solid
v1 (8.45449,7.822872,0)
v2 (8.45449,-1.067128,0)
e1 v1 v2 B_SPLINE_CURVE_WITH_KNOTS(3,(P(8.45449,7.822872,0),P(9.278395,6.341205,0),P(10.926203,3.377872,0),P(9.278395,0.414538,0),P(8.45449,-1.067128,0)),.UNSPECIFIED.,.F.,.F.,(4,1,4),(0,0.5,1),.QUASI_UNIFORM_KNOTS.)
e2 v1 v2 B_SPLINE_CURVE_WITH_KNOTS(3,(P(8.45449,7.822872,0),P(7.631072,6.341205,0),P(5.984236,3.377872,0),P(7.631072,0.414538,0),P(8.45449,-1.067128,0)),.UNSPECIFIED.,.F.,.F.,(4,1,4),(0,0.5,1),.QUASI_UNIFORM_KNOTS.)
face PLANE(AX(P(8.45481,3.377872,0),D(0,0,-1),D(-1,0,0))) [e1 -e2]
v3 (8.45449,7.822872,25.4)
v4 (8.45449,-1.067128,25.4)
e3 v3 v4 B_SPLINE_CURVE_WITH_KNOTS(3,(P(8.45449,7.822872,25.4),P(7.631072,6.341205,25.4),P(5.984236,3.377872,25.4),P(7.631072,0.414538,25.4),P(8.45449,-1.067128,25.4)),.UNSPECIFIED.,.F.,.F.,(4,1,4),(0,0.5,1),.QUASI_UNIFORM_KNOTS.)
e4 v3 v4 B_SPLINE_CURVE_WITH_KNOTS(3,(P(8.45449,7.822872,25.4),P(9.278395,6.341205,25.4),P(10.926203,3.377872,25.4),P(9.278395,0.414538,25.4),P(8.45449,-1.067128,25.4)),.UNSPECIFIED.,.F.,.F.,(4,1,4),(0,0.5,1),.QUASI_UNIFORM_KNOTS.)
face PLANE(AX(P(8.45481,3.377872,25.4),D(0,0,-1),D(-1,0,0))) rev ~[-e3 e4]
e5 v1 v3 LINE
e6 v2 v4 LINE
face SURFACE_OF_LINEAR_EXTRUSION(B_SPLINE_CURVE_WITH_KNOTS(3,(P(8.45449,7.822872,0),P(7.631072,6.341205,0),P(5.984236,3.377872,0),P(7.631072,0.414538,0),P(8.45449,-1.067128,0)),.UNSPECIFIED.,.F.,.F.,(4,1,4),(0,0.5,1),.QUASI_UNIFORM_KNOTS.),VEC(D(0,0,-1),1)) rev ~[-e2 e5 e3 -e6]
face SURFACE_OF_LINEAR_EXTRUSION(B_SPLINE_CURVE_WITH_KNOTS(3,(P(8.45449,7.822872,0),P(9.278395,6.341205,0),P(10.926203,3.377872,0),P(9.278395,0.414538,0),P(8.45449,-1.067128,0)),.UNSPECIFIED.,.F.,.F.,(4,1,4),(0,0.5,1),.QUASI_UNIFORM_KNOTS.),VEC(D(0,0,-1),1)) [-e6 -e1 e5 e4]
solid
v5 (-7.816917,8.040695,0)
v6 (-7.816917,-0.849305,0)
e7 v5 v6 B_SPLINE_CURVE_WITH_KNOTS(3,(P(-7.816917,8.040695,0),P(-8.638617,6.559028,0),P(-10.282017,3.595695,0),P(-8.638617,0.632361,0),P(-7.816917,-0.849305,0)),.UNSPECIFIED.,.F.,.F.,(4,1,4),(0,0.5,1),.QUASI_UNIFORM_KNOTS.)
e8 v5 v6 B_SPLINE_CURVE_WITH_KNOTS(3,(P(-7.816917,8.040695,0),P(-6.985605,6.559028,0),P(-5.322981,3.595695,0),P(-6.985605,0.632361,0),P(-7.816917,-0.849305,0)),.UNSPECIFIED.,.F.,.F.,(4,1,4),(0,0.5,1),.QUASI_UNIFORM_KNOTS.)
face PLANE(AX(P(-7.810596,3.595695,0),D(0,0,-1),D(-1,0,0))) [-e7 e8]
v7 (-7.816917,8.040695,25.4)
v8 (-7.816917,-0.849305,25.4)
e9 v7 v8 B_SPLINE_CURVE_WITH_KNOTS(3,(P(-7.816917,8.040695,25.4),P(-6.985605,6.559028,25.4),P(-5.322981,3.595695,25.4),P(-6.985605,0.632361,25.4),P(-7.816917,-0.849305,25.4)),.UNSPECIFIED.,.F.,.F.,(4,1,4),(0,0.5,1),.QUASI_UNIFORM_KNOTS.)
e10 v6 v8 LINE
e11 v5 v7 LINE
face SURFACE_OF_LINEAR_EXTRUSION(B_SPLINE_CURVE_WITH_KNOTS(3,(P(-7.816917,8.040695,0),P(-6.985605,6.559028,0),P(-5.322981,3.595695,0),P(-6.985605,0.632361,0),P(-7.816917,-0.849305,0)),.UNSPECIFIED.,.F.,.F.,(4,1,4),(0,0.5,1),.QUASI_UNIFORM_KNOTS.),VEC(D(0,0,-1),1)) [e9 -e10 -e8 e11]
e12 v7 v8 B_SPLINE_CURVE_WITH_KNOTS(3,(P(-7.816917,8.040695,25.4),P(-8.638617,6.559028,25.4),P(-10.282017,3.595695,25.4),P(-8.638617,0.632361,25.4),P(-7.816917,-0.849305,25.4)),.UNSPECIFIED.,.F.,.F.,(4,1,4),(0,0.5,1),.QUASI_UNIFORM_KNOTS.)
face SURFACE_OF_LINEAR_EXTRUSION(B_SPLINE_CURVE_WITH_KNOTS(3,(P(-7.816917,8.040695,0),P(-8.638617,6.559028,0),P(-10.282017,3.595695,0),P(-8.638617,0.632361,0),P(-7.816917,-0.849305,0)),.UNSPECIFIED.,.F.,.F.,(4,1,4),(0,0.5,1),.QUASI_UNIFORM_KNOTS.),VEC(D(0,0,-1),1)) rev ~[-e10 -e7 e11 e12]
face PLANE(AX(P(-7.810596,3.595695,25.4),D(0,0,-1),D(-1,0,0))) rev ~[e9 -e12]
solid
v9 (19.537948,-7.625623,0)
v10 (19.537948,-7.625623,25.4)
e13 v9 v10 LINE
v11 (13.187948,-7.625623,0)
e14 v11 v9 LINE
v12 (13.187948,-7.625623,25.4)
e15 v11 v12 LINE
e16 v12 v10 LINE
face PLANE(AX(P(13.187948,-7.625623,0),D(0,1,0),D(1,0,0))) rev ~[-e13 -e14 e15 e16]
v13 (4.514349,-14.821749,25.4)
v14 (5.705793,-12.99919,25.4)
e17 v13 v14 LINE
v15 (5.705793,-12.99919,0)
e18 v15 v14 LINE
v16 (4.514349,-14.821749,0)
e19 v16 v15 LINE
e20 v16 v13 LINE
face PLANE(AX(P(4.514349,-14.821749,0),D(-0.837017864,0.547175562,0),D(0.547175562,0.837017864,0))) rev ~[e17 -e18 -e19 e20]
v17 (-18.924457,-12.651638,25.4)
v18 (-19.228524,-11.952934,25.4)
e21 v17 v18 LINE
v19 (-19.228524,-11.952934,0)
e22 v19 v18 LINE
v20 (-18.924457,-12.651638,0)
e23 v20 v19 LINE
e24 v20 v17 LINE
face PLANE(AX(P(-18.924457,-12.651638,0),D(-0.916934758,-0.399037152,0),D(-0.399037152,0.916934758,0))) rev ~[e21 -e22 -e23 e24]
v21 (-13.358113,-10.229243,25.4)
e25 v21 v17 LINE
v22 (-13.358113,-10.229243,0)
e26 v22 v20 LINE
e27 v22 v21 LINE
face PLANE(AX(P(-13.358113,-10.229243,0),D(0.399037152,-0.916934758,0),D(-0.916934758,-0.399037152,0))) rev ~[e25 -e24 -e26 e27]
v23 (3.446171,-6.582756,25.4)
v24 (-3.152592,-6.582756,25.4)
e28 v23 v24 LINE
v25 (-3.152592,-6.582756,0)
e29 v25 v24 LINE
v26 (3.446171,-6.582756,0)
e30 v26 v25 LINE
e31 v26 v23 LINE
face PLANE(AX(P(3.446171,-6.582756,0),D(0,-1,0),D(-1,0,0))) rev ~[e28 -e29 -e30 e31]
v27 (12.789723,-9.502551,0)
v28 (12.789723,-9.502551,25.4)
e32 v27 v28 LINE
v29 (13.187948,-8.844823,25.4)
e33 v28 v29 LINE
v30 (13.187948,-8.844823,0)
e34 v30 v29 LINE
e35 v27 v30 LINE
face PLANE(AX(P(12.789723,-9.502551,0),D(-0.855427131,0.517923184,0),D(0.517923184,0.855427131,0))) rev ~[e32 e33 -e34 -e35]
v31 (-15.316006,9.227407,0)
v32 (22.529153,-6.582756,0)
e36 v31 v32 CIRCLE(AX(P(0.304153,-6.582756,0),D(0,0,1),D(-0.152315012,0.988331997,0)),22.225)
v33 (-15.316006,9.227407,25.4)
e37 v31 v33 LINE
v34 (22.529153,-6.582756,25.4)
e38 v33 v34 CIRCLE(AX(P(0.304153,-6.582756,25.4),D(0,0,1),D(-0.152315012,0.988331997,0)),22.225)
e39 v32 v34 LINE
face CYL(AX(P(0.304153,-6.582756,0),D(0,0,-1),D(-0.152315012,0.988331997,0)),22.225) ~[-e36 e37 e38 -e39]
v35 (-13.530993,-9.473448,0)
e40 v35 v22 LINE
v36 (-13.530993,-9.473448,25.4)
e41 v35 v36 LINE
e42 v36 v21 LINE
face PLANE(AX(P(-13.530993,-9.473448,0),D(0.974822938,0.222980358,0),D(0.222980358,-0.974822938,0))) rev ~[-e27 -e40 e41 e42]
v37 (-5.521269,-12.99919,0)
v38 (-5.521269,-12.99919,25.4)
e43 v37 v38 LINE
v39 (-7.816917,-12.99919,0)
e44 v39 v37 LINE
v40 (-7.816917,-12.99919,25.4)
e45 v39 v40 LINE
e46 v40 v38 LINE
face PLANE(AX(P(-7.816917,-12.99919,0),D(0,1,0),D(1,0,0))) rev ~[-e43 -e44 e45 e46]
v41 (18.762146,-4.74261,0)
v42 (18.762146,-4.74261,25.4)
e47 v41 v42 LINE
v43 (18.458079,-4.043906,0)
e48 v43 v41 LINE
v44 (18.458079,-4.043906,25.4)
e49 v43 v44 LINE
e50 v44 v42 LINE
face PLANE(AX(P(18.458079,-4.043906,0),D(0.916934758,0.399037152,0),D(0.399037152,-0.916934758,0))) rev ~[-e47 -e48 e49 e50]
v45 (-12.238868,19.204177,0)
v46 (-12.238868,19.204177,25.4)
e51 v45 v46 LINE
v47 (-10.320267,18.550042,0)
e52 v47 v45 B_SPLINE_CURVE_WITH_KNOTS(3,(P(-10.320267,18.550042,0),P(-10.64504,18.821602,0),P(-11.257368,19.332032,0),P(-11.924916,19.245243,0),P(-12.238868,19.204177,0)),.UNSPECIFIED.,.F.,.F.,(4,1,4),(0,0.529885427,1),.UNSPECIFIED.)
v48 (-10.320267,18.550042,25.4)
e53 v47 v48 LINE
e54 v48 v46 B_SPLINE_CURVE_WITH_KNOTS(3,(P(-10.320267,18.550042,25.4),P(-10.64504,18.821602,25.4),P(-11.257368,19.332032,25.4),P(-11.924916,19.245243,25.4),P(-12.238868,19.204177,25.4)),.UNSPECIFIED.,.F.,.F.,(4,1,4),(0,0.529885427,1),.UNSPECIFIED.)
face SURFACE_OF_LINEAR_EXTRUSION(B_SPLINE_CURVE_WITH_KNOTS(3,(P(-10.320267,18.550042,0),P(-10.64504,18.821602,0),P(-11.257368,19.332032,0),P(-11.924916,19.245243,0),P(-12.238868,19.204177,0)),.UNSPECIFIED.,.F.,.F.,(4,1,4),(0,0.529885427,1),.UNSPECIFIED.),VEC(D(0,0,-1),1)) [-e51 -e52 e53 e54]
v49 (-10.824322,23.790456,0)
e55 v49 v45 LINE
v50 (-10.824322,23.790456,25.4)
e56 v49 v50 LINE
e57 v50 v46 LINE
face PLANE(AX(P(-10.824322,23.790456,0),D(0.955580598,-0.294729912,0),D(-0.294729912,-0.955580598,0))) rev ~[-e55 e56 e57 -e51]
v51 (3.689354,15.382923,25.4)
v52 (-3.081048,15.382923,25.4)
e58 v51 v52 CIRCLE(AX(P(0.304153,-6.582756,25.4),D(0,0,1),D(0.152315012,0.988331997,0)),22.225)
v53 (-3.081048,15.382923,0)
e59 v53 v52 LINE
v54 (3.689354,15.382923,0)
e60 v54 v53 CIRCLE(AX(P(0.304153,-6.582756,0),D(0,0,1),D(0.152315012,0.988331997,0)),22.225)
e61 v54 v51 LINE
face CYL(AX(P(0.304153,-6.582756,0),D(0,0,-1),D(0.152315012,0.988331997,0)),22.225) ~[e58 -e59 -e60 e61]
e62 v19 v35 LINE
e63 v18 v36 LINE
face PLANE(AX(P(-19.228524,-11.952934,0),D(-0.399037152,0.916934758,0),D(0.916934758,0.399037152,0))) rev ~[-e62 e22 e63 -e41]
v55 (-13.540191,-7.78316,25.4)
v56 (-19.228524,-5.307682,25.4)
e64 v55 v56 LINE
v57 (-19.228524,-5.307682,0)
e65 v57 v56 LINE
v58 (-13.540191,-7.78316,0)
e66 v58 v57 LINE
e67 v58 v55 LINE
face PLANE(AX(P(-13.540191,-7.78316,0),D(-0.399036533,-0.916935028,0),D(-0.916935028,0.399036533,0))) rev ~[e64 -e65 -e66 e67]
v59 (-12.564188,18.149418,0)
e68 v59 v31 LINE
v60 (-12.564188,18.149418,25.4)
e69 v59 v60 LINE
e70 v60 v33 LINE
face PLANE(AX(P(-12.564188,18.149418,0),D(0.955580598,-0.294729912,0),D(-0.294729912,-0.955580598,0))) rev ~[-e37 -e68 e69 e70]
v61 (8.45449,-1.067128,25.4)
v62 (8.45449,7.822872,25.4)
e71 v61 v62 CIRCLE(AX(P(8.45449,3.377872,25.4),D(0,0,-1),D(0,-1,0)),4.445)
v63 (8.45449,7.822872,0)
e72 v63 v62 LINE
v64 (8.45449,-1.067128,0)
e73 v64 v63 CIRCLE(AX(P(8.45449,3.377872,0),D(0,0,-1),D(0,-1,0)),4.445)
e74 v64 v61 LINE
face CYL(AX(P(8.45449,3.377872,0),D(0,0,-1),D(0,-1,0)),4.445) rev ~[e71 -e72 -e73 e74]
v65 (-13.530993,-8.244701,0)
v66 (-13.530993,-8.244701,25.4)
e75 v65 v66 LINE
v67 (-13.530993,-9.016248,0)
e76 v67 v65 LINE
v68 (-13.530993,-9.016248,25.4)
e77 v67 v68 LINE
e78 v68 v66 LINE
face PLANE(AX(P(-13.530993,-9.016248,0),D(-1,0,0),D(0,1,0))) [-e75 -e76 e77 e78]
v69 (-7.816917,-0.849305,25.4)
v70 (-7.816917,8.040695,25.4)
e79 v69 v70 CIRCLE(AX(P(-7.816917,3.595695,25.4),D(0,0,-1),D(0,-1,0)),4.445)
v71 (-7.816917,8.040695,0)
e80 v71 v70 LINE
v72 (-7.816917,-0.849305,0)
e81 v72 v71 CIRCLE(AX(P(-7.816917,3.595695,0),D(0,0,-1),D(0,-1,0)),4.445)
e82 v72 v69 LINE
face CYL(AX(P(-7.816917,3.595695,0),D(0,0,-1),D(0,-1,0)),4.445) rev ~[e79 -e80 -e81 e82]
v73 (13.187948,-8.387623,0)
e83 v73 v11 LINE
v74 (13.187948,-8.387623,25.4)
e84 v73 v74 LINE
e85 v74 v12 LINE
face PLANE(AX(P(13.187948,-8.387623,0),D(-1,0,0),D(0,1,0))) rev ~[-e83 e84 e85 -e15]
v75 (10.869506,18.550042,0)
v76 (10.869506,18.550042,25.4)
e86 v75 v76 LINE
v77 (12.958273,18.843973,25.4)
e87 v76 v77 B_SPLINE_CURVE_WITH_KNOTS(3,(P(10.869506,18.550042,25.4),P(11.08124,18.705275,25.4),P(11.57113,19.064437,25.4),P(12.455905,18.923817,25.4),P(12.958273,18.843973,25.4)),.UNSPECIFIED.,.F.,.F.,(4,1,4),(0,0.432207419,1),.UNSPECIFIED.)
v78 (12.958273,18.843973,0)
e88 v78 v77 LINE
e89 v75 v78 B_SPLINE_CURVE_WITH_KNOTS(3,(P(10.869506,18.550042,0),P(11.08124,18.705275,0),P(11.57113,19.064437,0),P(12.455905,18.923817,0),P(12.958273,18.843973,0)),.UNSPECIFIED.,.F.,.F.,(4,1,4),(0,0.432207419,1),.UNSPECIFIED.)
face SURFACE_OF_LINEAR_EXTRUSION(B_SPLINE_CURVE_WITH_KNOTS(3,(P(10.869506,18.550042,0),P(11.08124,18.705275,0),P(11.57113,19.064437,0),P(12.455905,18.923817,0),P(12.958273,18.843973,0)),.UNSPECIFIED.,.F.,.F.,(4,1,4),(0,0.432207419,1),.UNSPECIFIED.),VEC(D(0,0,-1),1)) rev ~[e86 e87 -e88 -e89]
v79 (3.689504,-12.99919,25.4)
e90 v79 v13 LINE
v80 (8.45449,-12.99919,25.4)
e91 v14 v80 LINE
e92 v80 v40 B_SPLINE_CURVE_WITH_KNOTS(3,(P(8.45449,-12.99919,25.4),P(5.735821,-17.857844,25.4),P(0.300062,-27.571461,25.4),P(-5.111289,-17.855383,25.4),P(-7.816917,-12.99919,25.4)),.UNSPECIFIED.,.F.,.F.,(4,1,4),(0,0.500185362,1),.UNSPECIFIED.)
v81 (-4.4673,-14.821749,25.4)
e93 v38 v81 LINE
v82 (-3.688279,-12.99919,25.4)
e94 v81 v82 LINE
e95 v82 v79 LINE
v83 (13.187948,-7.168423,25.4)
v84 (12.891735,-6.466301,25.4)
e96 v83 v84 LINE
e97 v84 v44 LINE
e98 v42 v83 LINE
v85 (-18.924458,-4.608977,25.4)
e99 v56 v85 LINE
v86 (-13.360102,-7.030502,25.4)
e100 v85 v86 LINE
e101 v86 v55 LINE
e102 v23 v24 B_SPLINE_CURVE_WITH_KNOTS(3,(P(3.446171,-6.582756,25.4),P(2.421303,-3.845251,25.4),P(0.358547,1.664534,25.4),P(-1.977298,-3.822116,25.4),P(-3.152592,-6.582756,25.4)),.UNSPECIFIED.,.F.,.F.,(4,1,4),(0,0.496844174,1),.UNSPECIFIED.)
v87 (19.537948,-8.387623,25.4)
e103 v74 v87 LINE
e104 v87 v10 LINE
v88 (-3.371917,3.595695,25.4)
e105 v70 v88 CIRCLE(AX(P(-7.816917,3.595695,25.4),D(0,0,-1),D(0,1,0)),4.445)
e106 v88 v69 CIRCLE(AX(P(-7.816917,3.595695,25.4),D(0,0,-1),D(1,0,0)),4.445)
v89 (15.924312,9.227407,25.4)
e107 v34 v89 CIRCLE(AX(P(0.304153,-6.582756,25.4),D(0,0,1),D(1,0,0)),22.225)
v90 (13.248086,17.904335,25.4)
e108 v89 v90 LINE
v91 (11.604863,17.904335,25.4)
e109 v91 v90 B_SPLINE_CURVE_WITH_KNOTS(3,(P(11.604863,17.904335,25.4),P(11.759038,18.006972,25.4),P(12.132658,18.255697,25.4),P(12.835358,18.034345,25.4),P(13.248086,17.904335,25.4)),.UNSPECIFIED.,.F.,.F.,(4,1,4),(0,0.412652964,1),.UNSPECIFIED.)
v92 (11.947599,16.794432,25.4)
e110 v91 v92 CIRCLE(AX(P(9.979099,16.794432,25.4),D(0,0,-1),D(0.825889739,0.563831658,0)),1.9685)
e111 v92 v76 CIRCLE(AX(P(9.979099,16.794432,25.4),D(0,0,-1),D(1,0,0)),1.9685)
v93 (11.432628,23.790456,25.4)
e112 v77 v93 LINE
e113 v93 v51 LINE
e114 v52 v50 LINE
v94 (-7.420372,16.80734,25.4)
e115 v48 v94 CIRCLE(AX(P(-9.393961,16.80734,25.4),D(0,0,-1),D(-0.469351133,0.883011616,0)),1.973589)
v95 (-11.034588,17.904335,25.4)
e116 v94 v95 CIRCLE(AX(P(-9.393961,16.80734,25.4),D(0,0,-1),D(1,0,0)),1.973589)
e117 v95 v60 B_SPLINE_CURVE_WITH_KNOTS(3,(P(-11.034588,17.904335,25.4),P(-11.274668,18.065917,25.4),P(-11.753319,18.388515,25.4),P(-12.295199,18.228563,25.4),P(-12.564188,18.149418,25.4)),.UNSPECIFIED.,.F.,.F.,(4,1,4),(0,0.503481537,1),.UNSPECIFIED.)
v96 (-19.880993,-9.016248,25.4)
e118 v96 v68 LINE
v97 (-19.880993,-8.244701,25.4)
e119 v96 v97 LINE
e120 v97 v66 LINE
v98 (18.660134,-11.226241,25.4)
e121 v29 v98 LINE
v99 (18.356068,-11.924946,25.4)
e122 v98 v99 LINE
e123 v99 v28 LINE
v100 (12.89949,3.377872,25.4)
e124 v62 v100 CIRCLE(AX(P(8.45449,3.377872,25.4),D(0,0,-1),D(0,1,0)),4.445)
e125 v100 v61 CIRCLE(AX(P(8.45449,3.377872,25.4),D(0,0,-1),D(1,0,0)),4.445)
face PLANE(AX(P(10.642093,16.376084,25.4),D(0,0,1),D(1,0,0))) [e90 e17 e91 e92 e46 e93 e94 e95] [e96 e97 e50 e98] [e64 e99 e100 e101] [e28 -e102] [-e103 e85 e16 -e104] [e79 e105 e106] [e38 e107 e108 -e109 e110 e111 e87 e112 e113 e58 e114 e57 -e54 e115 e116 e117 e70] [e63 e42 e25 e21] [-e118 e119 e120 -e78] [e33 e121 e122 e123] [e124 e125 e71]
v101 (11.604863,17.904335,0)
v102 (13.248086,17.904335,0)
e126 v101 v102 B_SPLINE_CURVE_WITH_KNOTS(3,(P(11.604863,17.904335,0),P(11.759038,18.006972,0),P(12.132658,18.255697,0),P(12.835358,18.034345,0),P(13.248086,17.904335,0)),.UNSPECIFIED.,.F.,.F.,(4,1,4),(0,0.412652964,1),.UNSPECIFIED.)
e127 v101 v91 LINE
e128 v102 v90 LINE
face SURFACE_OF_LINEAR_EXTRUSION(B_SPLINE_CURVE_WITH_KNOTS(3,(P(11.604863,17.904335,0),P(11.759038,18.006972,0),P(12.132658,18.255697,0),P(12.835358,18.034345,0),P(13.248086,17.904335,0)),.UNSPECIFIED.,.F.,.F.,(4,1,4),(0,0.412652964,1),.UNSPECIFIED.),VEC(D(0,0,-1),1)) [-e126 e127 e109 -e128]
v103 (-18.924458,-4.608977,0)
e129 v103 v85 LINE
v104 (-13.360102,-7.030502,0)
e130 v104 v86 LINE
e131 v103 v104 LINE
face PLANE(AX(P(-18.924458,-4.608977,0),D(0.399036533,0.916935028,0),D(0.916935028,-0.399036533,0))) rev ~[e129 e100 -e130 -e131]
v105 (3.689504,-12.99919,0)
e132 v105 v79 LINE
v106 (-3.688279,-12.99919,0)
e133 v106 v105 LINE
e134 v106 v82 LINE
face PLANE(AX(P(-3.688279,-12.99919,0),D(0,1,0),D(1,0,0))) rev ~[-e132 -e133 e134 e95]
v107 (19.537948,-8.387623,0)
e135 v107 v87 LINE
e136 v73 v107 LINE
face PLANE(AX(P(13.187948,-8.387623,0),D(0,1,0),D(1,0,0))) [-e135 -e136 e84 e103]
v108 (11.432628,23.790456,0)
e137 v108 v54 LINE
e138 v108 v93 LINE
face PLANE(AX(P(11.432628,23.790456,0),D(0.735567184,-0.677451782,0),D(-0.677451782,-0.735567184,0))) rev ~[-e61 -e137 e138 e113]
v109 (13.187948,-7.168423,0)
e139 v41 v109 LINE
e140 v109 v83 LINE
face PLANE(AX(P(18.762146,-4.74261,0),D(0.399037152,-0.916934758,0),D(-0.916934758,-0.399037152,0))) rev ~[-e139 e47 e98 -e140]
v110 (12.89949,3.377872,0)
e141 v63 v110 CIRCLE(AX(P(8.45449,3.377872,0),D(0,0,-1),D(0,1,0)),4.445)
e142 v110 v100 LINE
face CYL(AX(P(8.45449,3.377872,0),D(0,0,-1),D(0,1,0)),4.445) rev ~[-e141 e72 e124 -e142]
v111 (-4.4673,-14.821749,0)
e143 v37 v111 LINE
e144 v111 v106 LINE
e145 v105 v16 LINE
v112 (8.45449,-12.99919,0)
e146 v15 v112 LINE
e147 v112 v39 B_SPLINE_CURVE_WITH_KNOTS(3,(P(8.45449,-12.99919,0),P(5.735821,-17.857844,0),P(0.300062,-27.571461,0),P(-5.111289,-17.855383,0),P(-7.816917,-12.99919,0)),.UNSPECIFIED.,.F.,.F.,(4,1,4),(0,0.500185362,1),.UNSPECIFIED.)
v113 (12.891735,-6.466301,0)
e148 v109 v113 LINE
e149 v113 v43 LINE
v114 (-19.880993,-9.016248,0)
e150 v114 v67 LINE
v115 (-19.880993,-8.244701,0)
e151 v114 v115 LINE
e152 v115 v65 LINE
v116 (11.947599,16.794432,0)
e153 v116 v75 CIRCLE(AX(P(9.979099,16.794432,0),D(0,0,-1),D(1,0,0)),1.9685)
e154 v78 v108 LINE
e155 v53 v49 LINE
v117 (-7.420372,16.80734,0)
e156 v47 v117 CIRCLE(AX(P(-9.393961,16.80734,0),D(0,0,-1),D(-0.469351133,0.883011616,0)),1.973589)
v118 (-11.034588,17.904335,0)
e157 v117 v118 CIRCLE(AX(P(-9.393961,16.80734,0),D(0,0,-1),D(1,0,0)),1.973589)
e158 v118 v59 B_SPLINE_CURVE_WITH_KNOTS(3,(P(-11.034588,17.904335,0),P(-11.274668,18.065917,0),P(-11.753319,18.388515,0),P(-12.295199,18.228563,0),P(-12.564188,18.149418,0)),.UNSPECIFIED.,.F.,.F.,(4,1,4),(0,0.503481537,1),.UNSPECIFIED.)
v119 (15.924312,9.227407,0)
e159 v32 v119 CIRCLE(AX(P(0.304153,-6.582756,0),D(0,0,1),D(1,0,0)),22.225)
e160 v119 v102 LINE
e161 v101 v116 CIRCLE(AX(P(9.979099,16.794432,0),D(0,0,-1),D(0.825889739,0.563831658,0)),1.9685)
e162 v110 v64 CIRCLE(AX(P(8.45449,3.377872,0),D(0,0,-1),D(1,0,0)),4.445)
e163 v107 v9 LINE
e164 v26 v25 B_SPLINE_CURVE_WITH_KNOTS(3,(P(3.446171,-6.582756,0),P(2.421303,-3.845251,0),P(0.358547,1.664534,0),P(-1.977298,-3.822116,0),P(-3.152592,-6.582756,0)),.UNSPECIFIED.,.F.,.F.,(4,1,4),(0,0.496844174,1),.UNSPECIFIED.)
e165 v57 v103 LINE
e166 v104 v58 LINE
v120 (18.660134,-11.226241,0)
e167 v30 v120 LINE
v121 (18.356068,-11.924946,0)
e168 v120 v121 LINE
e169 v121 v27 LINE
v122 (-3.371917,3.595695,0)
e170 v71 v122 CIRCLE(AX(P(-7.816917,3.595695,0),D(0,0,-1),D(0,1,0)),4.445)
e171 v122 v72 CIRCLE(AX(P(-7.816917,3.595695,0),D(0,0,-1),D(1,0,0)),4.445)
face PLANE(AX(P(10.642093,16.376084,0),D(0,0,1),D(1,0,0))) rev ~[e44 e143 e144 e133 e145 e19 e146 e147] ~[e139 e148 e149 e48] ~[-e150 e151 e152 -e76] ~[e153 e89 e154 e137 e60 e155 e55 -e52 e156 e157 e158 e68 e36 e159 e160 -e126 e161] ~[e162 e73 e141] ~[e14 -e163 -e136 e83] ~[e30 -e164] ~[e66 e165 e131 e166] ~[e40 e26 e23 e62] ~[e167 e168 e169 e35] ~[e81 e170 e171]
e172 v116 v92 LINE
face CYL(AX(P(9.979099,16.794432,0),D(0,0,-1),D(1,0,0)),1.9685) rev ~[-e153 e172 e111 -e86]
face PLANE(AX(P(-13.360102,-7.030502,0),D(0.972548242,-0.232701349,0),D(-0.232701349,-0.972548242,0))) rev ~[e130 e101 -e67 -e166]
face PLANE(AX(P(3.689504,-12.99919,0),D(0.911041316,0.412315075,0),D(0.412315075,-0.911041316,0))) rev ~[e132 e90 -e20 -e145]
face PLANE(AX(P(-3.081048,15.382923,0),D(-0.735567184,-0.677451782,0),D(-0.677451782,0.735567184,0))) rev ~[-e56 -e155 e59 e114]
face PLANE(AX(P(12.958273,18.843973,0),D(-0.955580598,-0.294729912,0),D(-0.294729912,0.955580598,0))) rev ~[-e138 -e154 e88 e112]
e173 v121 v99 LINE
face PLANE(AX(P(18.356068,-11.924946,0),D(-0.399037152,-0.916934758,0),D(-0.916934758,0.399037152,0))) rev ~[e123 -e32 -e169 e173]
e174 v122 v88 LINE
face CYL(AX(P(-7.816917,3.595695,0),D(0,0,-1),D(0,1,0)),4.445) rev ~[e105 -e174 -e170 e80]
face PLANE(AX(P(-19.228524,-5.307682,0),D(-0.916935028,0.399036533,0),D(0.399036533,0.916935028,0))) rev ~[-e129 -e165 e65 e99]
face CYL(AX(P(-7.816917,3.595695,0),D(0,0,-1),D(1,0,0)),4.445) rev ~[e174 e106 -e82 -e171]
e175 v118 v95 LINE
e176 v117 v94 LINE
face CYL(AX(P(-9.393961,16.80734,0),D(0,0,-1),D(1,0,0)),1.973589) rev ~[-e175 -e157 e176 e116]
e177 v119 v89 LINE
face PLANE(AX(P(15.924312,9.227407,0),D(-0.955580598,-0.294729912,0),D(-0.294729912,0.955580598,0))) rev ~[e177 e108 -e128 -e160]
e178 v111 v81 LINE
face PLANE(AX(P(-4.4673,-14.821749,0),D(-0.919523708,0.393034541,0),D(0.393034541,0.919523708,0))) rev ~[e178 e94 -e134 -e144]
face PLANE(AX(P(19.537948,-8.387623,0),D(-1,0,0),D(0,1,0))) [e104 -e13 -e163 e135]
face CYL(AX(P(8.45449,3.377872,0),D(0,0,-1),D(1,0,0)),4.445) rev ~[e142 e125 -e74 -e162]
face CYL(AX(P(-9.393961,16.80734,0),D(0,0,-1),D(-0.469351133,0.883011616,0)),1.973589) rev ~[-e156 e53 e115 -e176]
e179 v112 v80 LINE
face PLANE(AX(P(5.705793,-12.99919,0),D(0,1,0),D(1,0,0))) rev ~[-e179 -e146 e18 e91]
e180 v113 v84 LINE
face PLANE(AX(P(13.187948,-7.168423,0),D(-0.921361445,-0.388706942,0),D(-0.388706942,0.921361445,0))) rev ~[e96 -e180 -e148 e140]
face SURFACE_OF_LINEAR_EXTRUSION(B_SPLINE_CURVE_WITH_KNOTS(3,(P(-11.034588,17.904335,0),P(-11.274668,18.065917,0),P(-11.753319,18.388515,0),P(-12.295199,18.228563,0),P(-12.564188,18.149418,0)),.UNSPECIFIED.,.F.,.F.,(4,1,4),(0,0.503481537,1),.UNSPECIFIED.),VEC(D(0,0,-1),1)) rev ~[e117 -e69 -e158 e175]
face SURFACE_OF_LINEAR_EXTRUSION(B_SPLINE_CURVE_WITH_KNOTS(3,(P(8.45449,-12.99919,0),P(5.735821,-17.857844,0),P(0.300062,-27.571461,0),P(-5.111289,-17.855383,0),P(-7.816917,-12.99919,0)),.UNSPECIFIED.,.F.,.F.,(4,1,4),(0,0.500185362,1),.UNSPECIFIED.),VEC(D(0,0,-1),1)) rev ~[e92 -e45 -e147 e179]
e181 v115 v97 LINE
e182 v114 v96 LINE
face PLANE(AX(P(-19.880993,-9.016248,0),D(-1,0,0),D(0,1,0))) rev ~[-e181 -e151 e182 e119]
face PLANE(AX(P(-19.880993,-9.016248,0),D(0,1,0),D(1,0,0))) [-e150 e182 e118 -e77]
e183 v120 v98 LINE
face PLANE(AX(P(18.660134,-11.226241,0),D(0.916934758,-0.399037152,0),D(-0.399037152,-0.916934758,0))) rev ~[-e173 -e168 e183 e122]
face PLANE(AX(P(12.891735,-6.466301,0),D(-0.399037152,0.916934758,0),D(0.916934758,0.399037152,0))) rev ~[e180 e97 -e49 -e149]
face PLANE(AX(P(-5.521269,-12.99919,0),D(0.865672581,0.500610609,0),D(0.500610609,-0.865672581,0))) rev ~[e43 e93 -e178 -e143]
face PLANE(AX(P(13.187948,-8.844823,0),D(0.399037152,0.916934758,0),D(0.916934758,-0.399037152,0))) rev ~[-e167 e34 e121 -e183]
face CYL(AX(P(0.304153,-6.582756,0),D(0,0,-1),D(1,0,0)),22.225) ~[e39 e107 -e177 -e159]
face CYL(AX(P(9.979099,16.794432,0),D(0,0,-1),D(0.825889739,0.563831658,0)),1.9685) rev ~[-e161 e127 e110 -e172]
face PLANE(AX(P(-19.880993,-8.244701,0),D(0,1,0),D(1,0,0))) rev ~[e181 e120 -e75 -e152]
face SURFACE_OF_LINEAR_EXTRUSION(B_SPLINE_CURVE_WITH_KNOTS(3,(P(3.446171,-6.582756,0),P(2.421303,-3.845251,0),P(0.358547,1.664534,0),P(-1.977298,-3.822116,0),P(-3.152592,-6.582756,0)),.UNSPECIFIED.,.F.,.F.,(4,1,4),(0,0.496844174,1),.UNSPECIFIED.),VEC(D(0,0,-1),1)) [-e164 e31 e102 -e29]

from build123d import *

# Parameters (mm, degrees)
F0_W     = 6.35
F0_H     = 0.7715476677
F0_H_2   = 0.762
F1_DEPTH = 25.4


with BuildPart() as f1:
    # F0 (on Top) → F1 (new body)
    with BuildSketch(Plane.XY):
        with BuildLine():
            ThreePointArc((3.6893544979, 15.3829226228), (10.2928229209, 13.271137937), (15.92431222, 9.2274072279))
            Line((15.92431222, 9.2274072279), (13.2480858126, 17.904334579))
            add(Edge.make_bspline(
                [(11.6048627637, 17.904334579), (11.759038205, 18.0069718661), (12.1326583039, 18.2556972989), (12.8353575143, 18.0343451232), (13.2480858126, 17.904334579)],
                knots=[0, 0, 0, 0, 0.4126529642, 1, 1, 1, 1], degree=3))
            ThreePointArc((11.6048627637, 17.904334579), (11.8599641167, 17.3752399796), (11.947598812, 16.7944319601))
            ThreePointArc((11.947598812, 16.7944319601), (8.3016366544, 15.7643285867), (10.8695058886, 18.5500422494))
            add(Edge.make_bspline(
                [(10.8695058886, 18.5500422494), (11.0812401289, 18.7052749618), (11.5711304706, 19.064437497), (12.455904644, 18.9238167328), (12.9582728554, 18.8439733061)],
                knots=[0, 0, 0, 0, 0.4322074192, 1, 1, 1, 1], degree=3))
            Line((12.9582728554, 18.8439733061), (11.4326283679, 23.7904555412))
            Line((11.4326283679, 23.7904555412), (3.6893544979, 15.3829226228))
        make_face()
        with BuildLine():
            Line((-12.564187943, 18.1494181327), (-15.316005519, 9.2274072279))
            ThreePointArc((-15.316005519, 9.2274072279), (-9.6845162199, 13.271137937), (-3.0810477969, 15.3829226228))
            Line((-3.0810477969, 15.3829226228), (-10.8243216669, 23.7904555412))
            Line((-10.8243216669, 23.7904555412), (-12.2388683659, 19.2041772995))
            add(Edge.make_bspline(
                [(-10.320267483, 18.5500422494), (-10.6450402853, 18.8216017136), (-11.2573678049, 19.3320321307), (-11.9249159549, 19.2452425689), (-12.2388683659, 19.2041772995)],
                knots=[0, 0, 0, 0, 0.5298854267, 1, 1, 1, 1], degree=3))
            ThreePointArc((-10.320267483, 18.5500422494), (-8.3773722381, 18.4989668664), (-7.4203719968, 16.8073400855))
            ThreePointArc((-7.4203719968, 16.8073400855), (-9.9671672086, 14.9188250457), (-11.0345882749, 17.904334579))
            add(Edge.make_bspline(
                [(-11.0345882749, 17.904334579), (-11.2746678219, 18.0659172243), (-11.7533192818, 18.388514969), (-12.2951988679, 18.2285634232), (-12.564187943, 18.1494181327)],
                knots=[0, 0, 0, 0, 0.503481537, 1, 1, 1, 1], degree=3))
        make_face()
        with BuildLine():
            ThreePointArc((-15.316005519, 9.2274072279), (-8.2630105363, -27.0901773082), (22.5291533505, -6.5827560189))
            ThreePointArc((22.5291533505, -6.5827560189), (20.8115746398, 1.9844078679), (15.92431222, 9.2274072279))
            ThreePointArc((15.92431222, 9.2274072279), (10.2928229209, 13.271137937), (3.6893544979, 15.3829226228))
            ThreePointArc((3.6893544979, 15.3829226228), (0.3041533505, 15.6422439811), (-3.0810477969, 15.3829226228))
            ThreePointArc((-3.0810477969, 15.3829226228), (-9.6845162199, 13.271137937), (-15.316005519, 9.2274072279))
        make_face()
        Polygon((-19.2285237709, -11.9529337805), (-13.530993307, -9.4734483975), (-13.3581133165, -10.2292431305), (-18.9244574609, -12.6516380664), align=None, mode=Mode.SUBTRACT)
        with Locations((-16.705993307, -8.6304745637)):
            Rectangle(F0_W, F0_H, mode=Mode.SUBTRACT)
        Polygon((-13.3601024399, -7.0305023596), (-13.5401906446, -7.7831600793), (-19.2285237709, -5.3076818185), (-18.9244579329, -4.6089773272), align=None, mode=Mode.SUBTRACT)
        with BuildLine():
            add(Edge.make_bspline(
                [(8.4544904778, -12.9991904411), (5.7358208401, -17.8578443896), (0.3000622257, -27.57146065), (-5.1112893382, -17.8553828418), (-7.8169170707, -12.9991904411)],
                knots=[0, 0, 0, 0, 0.5001853617, 1, 1, 1, 1], degree=3))
            Line((-7.8169170707, -12.9991904411), (-5.5212693537, -12.9991904411))
            Line((-5.5212693537, -12.9991904411), (-4.4673004436, -14.8217486727))
            Line((-4.4673004436, -14.8217486727), (-3.6882793779, -12.9991904411))
            Line((-3.6882793779, -12.9991904411), (3.6895039243, -12.9991904411))
            Line((3.6895039243, -12.9991904411), (4.5143493203, -14.8217486727))
            Line((4.5143493203, -14.8217486727), (5.7057926183, -12.9991904411))
            Line((5.7057926183, -12.9991904411), (8.4544904778, -12.9991904411))
        make_face(mode=Mode.SUBTRACT)
        Polygon((12.7897234634, -9.5025505871), (13.187948443, -8.8448228342), (18.6601339178, -11.2262412371), (18.3560676078, -11.924945523), align=None, mode=Mode.SUBTRACT)
        with Locations((16.362948443, -8.0066228342)):
            Rectangle(F0_W, F0_H_2, mode=Mode.SUBTRACT)
        Polygon((18.7621455003, -4.7426104207), (13.187948443, -7.1684228342), (12.8917350459, -6.4663010707), (18.4580791904, -4.0439061348), align=None, mode=Mode.SUBTRACT)
        with BuildLine():
            ThreePointArc((-7.8169170707, 8.0406948277), (-4.6738274283, 6.73878447), (-3.3719170707, 3.5956948277))
            ThreePointArc((-3.3719170707, 3.5956948277), (-4.6738274283, 0.4526051853), (-7.8169170707, -0.8493051723))
            ThreePointArc((-7.8169170707, -0.8493051723), (-12.2619170707, 3.5956948277), (-7.8169170707, 8.0406948277))
        make_face(mode=Mode.SUBTRACT)
        with BuildLine():
            Line((3.4461712216, -6.5827560189), (-3.1525917134, -6.5827560189))
            add(Edge.make_bspline(
                [(3.4461712216, -6.5827560189), (2.4213029787, -3.8452513416), (0.3585470951, 1.664533861), (-1.9772977638, -3.8221161168), (-3.1525917134, -6.5827560189)],
                knots=[0, 0, 0, 0, 0.4968441739, 1, 1, 1, 1], degree=3))
        make_face(mode=Mode.SUBTRACT)
        with BuildLine():
            ThreePointArc((8.4544904778, 7.8228717559), (11.5975801201, 6.5209613983), (12.8994904778, 3.3778717559))
            ThreePointArc((12.8994904778, 3.3778717559), (11.5975801201, 0.2347821136), (8.4544904778, -1.0671282441))
            ThreePointArc((8.4544904778, -1.0671282441), (4.0094904778, 3.3778717559), (8.4544904778, 7.8228717559))
        make_face(mode=Mode.SUBTRACT)
    extrude(amount=F1_DEPTH)


with BuildPart() as f1b:
    # F0 (on Top) → F1, piece 2 (new body)
    with BuildSketch(Plane.XY):
        with BuildLine():
            add(Edge.make_bspline(
                [(-7.8169170707, 8.0406948277), (-6.9856051326, 6.559028161), (-5.3229812563, 3.5956948277), (-6.9856051326, 0.6323614943), (-7.8169170707, -0.8493051723)],
                knots=[0, 0, 0, 0, 0.5, 1, 1, 1, 1], degree=3))
            add(Edge.make_bspline(
                [(-7.8169170707, 8.0406948277), (-8.6386170054, 6.559028161), (-10.2820168748, 3.5956948277), (-8.6386170054, 0.6323614943), (-7.8169170707, -0.8493051723)],
                knots=[0, 0, 0, 0, 0.5, 1, 1, 1, 1], degree=3))
        make_face()
    extrude(amount=F1_DEPTH)


with BuildPart() as f1c:
    # F0 (on Top) → F1, piece 3 (new body)
    with BuildSketch(Plane.XY):
        with BuildLine():
            add(Edge.make_bspline(
                [(8.4544904778, 7.8228717559), (9.2783947599, 6.3412050893), (10.9262033242, 3.3778717559), (9.2783947599, 0.4145384226), (8.4544904778, -1.0671282441)],
                knots=[0, 0, 0, 0, 0.5, 1, 1, 1, 1], degree=3))
            add(Edge.make_bspline(
                [(8.4544904778, 7.8228717559), (7.6310723212, 6.3412050893), (5.9842360082, 3.3778717559), (7.6310723212, 0.4145384226), (8.4544904778, -1.0671282441)],
                knots=[0, 0, 0, 0, 0.5, 1, 1, 1, 1], degree=3))
        make_face()
    extrude(amount=F1_DEPTH)


solid = Compound([f1.part, f1b.part, f1c.part])
